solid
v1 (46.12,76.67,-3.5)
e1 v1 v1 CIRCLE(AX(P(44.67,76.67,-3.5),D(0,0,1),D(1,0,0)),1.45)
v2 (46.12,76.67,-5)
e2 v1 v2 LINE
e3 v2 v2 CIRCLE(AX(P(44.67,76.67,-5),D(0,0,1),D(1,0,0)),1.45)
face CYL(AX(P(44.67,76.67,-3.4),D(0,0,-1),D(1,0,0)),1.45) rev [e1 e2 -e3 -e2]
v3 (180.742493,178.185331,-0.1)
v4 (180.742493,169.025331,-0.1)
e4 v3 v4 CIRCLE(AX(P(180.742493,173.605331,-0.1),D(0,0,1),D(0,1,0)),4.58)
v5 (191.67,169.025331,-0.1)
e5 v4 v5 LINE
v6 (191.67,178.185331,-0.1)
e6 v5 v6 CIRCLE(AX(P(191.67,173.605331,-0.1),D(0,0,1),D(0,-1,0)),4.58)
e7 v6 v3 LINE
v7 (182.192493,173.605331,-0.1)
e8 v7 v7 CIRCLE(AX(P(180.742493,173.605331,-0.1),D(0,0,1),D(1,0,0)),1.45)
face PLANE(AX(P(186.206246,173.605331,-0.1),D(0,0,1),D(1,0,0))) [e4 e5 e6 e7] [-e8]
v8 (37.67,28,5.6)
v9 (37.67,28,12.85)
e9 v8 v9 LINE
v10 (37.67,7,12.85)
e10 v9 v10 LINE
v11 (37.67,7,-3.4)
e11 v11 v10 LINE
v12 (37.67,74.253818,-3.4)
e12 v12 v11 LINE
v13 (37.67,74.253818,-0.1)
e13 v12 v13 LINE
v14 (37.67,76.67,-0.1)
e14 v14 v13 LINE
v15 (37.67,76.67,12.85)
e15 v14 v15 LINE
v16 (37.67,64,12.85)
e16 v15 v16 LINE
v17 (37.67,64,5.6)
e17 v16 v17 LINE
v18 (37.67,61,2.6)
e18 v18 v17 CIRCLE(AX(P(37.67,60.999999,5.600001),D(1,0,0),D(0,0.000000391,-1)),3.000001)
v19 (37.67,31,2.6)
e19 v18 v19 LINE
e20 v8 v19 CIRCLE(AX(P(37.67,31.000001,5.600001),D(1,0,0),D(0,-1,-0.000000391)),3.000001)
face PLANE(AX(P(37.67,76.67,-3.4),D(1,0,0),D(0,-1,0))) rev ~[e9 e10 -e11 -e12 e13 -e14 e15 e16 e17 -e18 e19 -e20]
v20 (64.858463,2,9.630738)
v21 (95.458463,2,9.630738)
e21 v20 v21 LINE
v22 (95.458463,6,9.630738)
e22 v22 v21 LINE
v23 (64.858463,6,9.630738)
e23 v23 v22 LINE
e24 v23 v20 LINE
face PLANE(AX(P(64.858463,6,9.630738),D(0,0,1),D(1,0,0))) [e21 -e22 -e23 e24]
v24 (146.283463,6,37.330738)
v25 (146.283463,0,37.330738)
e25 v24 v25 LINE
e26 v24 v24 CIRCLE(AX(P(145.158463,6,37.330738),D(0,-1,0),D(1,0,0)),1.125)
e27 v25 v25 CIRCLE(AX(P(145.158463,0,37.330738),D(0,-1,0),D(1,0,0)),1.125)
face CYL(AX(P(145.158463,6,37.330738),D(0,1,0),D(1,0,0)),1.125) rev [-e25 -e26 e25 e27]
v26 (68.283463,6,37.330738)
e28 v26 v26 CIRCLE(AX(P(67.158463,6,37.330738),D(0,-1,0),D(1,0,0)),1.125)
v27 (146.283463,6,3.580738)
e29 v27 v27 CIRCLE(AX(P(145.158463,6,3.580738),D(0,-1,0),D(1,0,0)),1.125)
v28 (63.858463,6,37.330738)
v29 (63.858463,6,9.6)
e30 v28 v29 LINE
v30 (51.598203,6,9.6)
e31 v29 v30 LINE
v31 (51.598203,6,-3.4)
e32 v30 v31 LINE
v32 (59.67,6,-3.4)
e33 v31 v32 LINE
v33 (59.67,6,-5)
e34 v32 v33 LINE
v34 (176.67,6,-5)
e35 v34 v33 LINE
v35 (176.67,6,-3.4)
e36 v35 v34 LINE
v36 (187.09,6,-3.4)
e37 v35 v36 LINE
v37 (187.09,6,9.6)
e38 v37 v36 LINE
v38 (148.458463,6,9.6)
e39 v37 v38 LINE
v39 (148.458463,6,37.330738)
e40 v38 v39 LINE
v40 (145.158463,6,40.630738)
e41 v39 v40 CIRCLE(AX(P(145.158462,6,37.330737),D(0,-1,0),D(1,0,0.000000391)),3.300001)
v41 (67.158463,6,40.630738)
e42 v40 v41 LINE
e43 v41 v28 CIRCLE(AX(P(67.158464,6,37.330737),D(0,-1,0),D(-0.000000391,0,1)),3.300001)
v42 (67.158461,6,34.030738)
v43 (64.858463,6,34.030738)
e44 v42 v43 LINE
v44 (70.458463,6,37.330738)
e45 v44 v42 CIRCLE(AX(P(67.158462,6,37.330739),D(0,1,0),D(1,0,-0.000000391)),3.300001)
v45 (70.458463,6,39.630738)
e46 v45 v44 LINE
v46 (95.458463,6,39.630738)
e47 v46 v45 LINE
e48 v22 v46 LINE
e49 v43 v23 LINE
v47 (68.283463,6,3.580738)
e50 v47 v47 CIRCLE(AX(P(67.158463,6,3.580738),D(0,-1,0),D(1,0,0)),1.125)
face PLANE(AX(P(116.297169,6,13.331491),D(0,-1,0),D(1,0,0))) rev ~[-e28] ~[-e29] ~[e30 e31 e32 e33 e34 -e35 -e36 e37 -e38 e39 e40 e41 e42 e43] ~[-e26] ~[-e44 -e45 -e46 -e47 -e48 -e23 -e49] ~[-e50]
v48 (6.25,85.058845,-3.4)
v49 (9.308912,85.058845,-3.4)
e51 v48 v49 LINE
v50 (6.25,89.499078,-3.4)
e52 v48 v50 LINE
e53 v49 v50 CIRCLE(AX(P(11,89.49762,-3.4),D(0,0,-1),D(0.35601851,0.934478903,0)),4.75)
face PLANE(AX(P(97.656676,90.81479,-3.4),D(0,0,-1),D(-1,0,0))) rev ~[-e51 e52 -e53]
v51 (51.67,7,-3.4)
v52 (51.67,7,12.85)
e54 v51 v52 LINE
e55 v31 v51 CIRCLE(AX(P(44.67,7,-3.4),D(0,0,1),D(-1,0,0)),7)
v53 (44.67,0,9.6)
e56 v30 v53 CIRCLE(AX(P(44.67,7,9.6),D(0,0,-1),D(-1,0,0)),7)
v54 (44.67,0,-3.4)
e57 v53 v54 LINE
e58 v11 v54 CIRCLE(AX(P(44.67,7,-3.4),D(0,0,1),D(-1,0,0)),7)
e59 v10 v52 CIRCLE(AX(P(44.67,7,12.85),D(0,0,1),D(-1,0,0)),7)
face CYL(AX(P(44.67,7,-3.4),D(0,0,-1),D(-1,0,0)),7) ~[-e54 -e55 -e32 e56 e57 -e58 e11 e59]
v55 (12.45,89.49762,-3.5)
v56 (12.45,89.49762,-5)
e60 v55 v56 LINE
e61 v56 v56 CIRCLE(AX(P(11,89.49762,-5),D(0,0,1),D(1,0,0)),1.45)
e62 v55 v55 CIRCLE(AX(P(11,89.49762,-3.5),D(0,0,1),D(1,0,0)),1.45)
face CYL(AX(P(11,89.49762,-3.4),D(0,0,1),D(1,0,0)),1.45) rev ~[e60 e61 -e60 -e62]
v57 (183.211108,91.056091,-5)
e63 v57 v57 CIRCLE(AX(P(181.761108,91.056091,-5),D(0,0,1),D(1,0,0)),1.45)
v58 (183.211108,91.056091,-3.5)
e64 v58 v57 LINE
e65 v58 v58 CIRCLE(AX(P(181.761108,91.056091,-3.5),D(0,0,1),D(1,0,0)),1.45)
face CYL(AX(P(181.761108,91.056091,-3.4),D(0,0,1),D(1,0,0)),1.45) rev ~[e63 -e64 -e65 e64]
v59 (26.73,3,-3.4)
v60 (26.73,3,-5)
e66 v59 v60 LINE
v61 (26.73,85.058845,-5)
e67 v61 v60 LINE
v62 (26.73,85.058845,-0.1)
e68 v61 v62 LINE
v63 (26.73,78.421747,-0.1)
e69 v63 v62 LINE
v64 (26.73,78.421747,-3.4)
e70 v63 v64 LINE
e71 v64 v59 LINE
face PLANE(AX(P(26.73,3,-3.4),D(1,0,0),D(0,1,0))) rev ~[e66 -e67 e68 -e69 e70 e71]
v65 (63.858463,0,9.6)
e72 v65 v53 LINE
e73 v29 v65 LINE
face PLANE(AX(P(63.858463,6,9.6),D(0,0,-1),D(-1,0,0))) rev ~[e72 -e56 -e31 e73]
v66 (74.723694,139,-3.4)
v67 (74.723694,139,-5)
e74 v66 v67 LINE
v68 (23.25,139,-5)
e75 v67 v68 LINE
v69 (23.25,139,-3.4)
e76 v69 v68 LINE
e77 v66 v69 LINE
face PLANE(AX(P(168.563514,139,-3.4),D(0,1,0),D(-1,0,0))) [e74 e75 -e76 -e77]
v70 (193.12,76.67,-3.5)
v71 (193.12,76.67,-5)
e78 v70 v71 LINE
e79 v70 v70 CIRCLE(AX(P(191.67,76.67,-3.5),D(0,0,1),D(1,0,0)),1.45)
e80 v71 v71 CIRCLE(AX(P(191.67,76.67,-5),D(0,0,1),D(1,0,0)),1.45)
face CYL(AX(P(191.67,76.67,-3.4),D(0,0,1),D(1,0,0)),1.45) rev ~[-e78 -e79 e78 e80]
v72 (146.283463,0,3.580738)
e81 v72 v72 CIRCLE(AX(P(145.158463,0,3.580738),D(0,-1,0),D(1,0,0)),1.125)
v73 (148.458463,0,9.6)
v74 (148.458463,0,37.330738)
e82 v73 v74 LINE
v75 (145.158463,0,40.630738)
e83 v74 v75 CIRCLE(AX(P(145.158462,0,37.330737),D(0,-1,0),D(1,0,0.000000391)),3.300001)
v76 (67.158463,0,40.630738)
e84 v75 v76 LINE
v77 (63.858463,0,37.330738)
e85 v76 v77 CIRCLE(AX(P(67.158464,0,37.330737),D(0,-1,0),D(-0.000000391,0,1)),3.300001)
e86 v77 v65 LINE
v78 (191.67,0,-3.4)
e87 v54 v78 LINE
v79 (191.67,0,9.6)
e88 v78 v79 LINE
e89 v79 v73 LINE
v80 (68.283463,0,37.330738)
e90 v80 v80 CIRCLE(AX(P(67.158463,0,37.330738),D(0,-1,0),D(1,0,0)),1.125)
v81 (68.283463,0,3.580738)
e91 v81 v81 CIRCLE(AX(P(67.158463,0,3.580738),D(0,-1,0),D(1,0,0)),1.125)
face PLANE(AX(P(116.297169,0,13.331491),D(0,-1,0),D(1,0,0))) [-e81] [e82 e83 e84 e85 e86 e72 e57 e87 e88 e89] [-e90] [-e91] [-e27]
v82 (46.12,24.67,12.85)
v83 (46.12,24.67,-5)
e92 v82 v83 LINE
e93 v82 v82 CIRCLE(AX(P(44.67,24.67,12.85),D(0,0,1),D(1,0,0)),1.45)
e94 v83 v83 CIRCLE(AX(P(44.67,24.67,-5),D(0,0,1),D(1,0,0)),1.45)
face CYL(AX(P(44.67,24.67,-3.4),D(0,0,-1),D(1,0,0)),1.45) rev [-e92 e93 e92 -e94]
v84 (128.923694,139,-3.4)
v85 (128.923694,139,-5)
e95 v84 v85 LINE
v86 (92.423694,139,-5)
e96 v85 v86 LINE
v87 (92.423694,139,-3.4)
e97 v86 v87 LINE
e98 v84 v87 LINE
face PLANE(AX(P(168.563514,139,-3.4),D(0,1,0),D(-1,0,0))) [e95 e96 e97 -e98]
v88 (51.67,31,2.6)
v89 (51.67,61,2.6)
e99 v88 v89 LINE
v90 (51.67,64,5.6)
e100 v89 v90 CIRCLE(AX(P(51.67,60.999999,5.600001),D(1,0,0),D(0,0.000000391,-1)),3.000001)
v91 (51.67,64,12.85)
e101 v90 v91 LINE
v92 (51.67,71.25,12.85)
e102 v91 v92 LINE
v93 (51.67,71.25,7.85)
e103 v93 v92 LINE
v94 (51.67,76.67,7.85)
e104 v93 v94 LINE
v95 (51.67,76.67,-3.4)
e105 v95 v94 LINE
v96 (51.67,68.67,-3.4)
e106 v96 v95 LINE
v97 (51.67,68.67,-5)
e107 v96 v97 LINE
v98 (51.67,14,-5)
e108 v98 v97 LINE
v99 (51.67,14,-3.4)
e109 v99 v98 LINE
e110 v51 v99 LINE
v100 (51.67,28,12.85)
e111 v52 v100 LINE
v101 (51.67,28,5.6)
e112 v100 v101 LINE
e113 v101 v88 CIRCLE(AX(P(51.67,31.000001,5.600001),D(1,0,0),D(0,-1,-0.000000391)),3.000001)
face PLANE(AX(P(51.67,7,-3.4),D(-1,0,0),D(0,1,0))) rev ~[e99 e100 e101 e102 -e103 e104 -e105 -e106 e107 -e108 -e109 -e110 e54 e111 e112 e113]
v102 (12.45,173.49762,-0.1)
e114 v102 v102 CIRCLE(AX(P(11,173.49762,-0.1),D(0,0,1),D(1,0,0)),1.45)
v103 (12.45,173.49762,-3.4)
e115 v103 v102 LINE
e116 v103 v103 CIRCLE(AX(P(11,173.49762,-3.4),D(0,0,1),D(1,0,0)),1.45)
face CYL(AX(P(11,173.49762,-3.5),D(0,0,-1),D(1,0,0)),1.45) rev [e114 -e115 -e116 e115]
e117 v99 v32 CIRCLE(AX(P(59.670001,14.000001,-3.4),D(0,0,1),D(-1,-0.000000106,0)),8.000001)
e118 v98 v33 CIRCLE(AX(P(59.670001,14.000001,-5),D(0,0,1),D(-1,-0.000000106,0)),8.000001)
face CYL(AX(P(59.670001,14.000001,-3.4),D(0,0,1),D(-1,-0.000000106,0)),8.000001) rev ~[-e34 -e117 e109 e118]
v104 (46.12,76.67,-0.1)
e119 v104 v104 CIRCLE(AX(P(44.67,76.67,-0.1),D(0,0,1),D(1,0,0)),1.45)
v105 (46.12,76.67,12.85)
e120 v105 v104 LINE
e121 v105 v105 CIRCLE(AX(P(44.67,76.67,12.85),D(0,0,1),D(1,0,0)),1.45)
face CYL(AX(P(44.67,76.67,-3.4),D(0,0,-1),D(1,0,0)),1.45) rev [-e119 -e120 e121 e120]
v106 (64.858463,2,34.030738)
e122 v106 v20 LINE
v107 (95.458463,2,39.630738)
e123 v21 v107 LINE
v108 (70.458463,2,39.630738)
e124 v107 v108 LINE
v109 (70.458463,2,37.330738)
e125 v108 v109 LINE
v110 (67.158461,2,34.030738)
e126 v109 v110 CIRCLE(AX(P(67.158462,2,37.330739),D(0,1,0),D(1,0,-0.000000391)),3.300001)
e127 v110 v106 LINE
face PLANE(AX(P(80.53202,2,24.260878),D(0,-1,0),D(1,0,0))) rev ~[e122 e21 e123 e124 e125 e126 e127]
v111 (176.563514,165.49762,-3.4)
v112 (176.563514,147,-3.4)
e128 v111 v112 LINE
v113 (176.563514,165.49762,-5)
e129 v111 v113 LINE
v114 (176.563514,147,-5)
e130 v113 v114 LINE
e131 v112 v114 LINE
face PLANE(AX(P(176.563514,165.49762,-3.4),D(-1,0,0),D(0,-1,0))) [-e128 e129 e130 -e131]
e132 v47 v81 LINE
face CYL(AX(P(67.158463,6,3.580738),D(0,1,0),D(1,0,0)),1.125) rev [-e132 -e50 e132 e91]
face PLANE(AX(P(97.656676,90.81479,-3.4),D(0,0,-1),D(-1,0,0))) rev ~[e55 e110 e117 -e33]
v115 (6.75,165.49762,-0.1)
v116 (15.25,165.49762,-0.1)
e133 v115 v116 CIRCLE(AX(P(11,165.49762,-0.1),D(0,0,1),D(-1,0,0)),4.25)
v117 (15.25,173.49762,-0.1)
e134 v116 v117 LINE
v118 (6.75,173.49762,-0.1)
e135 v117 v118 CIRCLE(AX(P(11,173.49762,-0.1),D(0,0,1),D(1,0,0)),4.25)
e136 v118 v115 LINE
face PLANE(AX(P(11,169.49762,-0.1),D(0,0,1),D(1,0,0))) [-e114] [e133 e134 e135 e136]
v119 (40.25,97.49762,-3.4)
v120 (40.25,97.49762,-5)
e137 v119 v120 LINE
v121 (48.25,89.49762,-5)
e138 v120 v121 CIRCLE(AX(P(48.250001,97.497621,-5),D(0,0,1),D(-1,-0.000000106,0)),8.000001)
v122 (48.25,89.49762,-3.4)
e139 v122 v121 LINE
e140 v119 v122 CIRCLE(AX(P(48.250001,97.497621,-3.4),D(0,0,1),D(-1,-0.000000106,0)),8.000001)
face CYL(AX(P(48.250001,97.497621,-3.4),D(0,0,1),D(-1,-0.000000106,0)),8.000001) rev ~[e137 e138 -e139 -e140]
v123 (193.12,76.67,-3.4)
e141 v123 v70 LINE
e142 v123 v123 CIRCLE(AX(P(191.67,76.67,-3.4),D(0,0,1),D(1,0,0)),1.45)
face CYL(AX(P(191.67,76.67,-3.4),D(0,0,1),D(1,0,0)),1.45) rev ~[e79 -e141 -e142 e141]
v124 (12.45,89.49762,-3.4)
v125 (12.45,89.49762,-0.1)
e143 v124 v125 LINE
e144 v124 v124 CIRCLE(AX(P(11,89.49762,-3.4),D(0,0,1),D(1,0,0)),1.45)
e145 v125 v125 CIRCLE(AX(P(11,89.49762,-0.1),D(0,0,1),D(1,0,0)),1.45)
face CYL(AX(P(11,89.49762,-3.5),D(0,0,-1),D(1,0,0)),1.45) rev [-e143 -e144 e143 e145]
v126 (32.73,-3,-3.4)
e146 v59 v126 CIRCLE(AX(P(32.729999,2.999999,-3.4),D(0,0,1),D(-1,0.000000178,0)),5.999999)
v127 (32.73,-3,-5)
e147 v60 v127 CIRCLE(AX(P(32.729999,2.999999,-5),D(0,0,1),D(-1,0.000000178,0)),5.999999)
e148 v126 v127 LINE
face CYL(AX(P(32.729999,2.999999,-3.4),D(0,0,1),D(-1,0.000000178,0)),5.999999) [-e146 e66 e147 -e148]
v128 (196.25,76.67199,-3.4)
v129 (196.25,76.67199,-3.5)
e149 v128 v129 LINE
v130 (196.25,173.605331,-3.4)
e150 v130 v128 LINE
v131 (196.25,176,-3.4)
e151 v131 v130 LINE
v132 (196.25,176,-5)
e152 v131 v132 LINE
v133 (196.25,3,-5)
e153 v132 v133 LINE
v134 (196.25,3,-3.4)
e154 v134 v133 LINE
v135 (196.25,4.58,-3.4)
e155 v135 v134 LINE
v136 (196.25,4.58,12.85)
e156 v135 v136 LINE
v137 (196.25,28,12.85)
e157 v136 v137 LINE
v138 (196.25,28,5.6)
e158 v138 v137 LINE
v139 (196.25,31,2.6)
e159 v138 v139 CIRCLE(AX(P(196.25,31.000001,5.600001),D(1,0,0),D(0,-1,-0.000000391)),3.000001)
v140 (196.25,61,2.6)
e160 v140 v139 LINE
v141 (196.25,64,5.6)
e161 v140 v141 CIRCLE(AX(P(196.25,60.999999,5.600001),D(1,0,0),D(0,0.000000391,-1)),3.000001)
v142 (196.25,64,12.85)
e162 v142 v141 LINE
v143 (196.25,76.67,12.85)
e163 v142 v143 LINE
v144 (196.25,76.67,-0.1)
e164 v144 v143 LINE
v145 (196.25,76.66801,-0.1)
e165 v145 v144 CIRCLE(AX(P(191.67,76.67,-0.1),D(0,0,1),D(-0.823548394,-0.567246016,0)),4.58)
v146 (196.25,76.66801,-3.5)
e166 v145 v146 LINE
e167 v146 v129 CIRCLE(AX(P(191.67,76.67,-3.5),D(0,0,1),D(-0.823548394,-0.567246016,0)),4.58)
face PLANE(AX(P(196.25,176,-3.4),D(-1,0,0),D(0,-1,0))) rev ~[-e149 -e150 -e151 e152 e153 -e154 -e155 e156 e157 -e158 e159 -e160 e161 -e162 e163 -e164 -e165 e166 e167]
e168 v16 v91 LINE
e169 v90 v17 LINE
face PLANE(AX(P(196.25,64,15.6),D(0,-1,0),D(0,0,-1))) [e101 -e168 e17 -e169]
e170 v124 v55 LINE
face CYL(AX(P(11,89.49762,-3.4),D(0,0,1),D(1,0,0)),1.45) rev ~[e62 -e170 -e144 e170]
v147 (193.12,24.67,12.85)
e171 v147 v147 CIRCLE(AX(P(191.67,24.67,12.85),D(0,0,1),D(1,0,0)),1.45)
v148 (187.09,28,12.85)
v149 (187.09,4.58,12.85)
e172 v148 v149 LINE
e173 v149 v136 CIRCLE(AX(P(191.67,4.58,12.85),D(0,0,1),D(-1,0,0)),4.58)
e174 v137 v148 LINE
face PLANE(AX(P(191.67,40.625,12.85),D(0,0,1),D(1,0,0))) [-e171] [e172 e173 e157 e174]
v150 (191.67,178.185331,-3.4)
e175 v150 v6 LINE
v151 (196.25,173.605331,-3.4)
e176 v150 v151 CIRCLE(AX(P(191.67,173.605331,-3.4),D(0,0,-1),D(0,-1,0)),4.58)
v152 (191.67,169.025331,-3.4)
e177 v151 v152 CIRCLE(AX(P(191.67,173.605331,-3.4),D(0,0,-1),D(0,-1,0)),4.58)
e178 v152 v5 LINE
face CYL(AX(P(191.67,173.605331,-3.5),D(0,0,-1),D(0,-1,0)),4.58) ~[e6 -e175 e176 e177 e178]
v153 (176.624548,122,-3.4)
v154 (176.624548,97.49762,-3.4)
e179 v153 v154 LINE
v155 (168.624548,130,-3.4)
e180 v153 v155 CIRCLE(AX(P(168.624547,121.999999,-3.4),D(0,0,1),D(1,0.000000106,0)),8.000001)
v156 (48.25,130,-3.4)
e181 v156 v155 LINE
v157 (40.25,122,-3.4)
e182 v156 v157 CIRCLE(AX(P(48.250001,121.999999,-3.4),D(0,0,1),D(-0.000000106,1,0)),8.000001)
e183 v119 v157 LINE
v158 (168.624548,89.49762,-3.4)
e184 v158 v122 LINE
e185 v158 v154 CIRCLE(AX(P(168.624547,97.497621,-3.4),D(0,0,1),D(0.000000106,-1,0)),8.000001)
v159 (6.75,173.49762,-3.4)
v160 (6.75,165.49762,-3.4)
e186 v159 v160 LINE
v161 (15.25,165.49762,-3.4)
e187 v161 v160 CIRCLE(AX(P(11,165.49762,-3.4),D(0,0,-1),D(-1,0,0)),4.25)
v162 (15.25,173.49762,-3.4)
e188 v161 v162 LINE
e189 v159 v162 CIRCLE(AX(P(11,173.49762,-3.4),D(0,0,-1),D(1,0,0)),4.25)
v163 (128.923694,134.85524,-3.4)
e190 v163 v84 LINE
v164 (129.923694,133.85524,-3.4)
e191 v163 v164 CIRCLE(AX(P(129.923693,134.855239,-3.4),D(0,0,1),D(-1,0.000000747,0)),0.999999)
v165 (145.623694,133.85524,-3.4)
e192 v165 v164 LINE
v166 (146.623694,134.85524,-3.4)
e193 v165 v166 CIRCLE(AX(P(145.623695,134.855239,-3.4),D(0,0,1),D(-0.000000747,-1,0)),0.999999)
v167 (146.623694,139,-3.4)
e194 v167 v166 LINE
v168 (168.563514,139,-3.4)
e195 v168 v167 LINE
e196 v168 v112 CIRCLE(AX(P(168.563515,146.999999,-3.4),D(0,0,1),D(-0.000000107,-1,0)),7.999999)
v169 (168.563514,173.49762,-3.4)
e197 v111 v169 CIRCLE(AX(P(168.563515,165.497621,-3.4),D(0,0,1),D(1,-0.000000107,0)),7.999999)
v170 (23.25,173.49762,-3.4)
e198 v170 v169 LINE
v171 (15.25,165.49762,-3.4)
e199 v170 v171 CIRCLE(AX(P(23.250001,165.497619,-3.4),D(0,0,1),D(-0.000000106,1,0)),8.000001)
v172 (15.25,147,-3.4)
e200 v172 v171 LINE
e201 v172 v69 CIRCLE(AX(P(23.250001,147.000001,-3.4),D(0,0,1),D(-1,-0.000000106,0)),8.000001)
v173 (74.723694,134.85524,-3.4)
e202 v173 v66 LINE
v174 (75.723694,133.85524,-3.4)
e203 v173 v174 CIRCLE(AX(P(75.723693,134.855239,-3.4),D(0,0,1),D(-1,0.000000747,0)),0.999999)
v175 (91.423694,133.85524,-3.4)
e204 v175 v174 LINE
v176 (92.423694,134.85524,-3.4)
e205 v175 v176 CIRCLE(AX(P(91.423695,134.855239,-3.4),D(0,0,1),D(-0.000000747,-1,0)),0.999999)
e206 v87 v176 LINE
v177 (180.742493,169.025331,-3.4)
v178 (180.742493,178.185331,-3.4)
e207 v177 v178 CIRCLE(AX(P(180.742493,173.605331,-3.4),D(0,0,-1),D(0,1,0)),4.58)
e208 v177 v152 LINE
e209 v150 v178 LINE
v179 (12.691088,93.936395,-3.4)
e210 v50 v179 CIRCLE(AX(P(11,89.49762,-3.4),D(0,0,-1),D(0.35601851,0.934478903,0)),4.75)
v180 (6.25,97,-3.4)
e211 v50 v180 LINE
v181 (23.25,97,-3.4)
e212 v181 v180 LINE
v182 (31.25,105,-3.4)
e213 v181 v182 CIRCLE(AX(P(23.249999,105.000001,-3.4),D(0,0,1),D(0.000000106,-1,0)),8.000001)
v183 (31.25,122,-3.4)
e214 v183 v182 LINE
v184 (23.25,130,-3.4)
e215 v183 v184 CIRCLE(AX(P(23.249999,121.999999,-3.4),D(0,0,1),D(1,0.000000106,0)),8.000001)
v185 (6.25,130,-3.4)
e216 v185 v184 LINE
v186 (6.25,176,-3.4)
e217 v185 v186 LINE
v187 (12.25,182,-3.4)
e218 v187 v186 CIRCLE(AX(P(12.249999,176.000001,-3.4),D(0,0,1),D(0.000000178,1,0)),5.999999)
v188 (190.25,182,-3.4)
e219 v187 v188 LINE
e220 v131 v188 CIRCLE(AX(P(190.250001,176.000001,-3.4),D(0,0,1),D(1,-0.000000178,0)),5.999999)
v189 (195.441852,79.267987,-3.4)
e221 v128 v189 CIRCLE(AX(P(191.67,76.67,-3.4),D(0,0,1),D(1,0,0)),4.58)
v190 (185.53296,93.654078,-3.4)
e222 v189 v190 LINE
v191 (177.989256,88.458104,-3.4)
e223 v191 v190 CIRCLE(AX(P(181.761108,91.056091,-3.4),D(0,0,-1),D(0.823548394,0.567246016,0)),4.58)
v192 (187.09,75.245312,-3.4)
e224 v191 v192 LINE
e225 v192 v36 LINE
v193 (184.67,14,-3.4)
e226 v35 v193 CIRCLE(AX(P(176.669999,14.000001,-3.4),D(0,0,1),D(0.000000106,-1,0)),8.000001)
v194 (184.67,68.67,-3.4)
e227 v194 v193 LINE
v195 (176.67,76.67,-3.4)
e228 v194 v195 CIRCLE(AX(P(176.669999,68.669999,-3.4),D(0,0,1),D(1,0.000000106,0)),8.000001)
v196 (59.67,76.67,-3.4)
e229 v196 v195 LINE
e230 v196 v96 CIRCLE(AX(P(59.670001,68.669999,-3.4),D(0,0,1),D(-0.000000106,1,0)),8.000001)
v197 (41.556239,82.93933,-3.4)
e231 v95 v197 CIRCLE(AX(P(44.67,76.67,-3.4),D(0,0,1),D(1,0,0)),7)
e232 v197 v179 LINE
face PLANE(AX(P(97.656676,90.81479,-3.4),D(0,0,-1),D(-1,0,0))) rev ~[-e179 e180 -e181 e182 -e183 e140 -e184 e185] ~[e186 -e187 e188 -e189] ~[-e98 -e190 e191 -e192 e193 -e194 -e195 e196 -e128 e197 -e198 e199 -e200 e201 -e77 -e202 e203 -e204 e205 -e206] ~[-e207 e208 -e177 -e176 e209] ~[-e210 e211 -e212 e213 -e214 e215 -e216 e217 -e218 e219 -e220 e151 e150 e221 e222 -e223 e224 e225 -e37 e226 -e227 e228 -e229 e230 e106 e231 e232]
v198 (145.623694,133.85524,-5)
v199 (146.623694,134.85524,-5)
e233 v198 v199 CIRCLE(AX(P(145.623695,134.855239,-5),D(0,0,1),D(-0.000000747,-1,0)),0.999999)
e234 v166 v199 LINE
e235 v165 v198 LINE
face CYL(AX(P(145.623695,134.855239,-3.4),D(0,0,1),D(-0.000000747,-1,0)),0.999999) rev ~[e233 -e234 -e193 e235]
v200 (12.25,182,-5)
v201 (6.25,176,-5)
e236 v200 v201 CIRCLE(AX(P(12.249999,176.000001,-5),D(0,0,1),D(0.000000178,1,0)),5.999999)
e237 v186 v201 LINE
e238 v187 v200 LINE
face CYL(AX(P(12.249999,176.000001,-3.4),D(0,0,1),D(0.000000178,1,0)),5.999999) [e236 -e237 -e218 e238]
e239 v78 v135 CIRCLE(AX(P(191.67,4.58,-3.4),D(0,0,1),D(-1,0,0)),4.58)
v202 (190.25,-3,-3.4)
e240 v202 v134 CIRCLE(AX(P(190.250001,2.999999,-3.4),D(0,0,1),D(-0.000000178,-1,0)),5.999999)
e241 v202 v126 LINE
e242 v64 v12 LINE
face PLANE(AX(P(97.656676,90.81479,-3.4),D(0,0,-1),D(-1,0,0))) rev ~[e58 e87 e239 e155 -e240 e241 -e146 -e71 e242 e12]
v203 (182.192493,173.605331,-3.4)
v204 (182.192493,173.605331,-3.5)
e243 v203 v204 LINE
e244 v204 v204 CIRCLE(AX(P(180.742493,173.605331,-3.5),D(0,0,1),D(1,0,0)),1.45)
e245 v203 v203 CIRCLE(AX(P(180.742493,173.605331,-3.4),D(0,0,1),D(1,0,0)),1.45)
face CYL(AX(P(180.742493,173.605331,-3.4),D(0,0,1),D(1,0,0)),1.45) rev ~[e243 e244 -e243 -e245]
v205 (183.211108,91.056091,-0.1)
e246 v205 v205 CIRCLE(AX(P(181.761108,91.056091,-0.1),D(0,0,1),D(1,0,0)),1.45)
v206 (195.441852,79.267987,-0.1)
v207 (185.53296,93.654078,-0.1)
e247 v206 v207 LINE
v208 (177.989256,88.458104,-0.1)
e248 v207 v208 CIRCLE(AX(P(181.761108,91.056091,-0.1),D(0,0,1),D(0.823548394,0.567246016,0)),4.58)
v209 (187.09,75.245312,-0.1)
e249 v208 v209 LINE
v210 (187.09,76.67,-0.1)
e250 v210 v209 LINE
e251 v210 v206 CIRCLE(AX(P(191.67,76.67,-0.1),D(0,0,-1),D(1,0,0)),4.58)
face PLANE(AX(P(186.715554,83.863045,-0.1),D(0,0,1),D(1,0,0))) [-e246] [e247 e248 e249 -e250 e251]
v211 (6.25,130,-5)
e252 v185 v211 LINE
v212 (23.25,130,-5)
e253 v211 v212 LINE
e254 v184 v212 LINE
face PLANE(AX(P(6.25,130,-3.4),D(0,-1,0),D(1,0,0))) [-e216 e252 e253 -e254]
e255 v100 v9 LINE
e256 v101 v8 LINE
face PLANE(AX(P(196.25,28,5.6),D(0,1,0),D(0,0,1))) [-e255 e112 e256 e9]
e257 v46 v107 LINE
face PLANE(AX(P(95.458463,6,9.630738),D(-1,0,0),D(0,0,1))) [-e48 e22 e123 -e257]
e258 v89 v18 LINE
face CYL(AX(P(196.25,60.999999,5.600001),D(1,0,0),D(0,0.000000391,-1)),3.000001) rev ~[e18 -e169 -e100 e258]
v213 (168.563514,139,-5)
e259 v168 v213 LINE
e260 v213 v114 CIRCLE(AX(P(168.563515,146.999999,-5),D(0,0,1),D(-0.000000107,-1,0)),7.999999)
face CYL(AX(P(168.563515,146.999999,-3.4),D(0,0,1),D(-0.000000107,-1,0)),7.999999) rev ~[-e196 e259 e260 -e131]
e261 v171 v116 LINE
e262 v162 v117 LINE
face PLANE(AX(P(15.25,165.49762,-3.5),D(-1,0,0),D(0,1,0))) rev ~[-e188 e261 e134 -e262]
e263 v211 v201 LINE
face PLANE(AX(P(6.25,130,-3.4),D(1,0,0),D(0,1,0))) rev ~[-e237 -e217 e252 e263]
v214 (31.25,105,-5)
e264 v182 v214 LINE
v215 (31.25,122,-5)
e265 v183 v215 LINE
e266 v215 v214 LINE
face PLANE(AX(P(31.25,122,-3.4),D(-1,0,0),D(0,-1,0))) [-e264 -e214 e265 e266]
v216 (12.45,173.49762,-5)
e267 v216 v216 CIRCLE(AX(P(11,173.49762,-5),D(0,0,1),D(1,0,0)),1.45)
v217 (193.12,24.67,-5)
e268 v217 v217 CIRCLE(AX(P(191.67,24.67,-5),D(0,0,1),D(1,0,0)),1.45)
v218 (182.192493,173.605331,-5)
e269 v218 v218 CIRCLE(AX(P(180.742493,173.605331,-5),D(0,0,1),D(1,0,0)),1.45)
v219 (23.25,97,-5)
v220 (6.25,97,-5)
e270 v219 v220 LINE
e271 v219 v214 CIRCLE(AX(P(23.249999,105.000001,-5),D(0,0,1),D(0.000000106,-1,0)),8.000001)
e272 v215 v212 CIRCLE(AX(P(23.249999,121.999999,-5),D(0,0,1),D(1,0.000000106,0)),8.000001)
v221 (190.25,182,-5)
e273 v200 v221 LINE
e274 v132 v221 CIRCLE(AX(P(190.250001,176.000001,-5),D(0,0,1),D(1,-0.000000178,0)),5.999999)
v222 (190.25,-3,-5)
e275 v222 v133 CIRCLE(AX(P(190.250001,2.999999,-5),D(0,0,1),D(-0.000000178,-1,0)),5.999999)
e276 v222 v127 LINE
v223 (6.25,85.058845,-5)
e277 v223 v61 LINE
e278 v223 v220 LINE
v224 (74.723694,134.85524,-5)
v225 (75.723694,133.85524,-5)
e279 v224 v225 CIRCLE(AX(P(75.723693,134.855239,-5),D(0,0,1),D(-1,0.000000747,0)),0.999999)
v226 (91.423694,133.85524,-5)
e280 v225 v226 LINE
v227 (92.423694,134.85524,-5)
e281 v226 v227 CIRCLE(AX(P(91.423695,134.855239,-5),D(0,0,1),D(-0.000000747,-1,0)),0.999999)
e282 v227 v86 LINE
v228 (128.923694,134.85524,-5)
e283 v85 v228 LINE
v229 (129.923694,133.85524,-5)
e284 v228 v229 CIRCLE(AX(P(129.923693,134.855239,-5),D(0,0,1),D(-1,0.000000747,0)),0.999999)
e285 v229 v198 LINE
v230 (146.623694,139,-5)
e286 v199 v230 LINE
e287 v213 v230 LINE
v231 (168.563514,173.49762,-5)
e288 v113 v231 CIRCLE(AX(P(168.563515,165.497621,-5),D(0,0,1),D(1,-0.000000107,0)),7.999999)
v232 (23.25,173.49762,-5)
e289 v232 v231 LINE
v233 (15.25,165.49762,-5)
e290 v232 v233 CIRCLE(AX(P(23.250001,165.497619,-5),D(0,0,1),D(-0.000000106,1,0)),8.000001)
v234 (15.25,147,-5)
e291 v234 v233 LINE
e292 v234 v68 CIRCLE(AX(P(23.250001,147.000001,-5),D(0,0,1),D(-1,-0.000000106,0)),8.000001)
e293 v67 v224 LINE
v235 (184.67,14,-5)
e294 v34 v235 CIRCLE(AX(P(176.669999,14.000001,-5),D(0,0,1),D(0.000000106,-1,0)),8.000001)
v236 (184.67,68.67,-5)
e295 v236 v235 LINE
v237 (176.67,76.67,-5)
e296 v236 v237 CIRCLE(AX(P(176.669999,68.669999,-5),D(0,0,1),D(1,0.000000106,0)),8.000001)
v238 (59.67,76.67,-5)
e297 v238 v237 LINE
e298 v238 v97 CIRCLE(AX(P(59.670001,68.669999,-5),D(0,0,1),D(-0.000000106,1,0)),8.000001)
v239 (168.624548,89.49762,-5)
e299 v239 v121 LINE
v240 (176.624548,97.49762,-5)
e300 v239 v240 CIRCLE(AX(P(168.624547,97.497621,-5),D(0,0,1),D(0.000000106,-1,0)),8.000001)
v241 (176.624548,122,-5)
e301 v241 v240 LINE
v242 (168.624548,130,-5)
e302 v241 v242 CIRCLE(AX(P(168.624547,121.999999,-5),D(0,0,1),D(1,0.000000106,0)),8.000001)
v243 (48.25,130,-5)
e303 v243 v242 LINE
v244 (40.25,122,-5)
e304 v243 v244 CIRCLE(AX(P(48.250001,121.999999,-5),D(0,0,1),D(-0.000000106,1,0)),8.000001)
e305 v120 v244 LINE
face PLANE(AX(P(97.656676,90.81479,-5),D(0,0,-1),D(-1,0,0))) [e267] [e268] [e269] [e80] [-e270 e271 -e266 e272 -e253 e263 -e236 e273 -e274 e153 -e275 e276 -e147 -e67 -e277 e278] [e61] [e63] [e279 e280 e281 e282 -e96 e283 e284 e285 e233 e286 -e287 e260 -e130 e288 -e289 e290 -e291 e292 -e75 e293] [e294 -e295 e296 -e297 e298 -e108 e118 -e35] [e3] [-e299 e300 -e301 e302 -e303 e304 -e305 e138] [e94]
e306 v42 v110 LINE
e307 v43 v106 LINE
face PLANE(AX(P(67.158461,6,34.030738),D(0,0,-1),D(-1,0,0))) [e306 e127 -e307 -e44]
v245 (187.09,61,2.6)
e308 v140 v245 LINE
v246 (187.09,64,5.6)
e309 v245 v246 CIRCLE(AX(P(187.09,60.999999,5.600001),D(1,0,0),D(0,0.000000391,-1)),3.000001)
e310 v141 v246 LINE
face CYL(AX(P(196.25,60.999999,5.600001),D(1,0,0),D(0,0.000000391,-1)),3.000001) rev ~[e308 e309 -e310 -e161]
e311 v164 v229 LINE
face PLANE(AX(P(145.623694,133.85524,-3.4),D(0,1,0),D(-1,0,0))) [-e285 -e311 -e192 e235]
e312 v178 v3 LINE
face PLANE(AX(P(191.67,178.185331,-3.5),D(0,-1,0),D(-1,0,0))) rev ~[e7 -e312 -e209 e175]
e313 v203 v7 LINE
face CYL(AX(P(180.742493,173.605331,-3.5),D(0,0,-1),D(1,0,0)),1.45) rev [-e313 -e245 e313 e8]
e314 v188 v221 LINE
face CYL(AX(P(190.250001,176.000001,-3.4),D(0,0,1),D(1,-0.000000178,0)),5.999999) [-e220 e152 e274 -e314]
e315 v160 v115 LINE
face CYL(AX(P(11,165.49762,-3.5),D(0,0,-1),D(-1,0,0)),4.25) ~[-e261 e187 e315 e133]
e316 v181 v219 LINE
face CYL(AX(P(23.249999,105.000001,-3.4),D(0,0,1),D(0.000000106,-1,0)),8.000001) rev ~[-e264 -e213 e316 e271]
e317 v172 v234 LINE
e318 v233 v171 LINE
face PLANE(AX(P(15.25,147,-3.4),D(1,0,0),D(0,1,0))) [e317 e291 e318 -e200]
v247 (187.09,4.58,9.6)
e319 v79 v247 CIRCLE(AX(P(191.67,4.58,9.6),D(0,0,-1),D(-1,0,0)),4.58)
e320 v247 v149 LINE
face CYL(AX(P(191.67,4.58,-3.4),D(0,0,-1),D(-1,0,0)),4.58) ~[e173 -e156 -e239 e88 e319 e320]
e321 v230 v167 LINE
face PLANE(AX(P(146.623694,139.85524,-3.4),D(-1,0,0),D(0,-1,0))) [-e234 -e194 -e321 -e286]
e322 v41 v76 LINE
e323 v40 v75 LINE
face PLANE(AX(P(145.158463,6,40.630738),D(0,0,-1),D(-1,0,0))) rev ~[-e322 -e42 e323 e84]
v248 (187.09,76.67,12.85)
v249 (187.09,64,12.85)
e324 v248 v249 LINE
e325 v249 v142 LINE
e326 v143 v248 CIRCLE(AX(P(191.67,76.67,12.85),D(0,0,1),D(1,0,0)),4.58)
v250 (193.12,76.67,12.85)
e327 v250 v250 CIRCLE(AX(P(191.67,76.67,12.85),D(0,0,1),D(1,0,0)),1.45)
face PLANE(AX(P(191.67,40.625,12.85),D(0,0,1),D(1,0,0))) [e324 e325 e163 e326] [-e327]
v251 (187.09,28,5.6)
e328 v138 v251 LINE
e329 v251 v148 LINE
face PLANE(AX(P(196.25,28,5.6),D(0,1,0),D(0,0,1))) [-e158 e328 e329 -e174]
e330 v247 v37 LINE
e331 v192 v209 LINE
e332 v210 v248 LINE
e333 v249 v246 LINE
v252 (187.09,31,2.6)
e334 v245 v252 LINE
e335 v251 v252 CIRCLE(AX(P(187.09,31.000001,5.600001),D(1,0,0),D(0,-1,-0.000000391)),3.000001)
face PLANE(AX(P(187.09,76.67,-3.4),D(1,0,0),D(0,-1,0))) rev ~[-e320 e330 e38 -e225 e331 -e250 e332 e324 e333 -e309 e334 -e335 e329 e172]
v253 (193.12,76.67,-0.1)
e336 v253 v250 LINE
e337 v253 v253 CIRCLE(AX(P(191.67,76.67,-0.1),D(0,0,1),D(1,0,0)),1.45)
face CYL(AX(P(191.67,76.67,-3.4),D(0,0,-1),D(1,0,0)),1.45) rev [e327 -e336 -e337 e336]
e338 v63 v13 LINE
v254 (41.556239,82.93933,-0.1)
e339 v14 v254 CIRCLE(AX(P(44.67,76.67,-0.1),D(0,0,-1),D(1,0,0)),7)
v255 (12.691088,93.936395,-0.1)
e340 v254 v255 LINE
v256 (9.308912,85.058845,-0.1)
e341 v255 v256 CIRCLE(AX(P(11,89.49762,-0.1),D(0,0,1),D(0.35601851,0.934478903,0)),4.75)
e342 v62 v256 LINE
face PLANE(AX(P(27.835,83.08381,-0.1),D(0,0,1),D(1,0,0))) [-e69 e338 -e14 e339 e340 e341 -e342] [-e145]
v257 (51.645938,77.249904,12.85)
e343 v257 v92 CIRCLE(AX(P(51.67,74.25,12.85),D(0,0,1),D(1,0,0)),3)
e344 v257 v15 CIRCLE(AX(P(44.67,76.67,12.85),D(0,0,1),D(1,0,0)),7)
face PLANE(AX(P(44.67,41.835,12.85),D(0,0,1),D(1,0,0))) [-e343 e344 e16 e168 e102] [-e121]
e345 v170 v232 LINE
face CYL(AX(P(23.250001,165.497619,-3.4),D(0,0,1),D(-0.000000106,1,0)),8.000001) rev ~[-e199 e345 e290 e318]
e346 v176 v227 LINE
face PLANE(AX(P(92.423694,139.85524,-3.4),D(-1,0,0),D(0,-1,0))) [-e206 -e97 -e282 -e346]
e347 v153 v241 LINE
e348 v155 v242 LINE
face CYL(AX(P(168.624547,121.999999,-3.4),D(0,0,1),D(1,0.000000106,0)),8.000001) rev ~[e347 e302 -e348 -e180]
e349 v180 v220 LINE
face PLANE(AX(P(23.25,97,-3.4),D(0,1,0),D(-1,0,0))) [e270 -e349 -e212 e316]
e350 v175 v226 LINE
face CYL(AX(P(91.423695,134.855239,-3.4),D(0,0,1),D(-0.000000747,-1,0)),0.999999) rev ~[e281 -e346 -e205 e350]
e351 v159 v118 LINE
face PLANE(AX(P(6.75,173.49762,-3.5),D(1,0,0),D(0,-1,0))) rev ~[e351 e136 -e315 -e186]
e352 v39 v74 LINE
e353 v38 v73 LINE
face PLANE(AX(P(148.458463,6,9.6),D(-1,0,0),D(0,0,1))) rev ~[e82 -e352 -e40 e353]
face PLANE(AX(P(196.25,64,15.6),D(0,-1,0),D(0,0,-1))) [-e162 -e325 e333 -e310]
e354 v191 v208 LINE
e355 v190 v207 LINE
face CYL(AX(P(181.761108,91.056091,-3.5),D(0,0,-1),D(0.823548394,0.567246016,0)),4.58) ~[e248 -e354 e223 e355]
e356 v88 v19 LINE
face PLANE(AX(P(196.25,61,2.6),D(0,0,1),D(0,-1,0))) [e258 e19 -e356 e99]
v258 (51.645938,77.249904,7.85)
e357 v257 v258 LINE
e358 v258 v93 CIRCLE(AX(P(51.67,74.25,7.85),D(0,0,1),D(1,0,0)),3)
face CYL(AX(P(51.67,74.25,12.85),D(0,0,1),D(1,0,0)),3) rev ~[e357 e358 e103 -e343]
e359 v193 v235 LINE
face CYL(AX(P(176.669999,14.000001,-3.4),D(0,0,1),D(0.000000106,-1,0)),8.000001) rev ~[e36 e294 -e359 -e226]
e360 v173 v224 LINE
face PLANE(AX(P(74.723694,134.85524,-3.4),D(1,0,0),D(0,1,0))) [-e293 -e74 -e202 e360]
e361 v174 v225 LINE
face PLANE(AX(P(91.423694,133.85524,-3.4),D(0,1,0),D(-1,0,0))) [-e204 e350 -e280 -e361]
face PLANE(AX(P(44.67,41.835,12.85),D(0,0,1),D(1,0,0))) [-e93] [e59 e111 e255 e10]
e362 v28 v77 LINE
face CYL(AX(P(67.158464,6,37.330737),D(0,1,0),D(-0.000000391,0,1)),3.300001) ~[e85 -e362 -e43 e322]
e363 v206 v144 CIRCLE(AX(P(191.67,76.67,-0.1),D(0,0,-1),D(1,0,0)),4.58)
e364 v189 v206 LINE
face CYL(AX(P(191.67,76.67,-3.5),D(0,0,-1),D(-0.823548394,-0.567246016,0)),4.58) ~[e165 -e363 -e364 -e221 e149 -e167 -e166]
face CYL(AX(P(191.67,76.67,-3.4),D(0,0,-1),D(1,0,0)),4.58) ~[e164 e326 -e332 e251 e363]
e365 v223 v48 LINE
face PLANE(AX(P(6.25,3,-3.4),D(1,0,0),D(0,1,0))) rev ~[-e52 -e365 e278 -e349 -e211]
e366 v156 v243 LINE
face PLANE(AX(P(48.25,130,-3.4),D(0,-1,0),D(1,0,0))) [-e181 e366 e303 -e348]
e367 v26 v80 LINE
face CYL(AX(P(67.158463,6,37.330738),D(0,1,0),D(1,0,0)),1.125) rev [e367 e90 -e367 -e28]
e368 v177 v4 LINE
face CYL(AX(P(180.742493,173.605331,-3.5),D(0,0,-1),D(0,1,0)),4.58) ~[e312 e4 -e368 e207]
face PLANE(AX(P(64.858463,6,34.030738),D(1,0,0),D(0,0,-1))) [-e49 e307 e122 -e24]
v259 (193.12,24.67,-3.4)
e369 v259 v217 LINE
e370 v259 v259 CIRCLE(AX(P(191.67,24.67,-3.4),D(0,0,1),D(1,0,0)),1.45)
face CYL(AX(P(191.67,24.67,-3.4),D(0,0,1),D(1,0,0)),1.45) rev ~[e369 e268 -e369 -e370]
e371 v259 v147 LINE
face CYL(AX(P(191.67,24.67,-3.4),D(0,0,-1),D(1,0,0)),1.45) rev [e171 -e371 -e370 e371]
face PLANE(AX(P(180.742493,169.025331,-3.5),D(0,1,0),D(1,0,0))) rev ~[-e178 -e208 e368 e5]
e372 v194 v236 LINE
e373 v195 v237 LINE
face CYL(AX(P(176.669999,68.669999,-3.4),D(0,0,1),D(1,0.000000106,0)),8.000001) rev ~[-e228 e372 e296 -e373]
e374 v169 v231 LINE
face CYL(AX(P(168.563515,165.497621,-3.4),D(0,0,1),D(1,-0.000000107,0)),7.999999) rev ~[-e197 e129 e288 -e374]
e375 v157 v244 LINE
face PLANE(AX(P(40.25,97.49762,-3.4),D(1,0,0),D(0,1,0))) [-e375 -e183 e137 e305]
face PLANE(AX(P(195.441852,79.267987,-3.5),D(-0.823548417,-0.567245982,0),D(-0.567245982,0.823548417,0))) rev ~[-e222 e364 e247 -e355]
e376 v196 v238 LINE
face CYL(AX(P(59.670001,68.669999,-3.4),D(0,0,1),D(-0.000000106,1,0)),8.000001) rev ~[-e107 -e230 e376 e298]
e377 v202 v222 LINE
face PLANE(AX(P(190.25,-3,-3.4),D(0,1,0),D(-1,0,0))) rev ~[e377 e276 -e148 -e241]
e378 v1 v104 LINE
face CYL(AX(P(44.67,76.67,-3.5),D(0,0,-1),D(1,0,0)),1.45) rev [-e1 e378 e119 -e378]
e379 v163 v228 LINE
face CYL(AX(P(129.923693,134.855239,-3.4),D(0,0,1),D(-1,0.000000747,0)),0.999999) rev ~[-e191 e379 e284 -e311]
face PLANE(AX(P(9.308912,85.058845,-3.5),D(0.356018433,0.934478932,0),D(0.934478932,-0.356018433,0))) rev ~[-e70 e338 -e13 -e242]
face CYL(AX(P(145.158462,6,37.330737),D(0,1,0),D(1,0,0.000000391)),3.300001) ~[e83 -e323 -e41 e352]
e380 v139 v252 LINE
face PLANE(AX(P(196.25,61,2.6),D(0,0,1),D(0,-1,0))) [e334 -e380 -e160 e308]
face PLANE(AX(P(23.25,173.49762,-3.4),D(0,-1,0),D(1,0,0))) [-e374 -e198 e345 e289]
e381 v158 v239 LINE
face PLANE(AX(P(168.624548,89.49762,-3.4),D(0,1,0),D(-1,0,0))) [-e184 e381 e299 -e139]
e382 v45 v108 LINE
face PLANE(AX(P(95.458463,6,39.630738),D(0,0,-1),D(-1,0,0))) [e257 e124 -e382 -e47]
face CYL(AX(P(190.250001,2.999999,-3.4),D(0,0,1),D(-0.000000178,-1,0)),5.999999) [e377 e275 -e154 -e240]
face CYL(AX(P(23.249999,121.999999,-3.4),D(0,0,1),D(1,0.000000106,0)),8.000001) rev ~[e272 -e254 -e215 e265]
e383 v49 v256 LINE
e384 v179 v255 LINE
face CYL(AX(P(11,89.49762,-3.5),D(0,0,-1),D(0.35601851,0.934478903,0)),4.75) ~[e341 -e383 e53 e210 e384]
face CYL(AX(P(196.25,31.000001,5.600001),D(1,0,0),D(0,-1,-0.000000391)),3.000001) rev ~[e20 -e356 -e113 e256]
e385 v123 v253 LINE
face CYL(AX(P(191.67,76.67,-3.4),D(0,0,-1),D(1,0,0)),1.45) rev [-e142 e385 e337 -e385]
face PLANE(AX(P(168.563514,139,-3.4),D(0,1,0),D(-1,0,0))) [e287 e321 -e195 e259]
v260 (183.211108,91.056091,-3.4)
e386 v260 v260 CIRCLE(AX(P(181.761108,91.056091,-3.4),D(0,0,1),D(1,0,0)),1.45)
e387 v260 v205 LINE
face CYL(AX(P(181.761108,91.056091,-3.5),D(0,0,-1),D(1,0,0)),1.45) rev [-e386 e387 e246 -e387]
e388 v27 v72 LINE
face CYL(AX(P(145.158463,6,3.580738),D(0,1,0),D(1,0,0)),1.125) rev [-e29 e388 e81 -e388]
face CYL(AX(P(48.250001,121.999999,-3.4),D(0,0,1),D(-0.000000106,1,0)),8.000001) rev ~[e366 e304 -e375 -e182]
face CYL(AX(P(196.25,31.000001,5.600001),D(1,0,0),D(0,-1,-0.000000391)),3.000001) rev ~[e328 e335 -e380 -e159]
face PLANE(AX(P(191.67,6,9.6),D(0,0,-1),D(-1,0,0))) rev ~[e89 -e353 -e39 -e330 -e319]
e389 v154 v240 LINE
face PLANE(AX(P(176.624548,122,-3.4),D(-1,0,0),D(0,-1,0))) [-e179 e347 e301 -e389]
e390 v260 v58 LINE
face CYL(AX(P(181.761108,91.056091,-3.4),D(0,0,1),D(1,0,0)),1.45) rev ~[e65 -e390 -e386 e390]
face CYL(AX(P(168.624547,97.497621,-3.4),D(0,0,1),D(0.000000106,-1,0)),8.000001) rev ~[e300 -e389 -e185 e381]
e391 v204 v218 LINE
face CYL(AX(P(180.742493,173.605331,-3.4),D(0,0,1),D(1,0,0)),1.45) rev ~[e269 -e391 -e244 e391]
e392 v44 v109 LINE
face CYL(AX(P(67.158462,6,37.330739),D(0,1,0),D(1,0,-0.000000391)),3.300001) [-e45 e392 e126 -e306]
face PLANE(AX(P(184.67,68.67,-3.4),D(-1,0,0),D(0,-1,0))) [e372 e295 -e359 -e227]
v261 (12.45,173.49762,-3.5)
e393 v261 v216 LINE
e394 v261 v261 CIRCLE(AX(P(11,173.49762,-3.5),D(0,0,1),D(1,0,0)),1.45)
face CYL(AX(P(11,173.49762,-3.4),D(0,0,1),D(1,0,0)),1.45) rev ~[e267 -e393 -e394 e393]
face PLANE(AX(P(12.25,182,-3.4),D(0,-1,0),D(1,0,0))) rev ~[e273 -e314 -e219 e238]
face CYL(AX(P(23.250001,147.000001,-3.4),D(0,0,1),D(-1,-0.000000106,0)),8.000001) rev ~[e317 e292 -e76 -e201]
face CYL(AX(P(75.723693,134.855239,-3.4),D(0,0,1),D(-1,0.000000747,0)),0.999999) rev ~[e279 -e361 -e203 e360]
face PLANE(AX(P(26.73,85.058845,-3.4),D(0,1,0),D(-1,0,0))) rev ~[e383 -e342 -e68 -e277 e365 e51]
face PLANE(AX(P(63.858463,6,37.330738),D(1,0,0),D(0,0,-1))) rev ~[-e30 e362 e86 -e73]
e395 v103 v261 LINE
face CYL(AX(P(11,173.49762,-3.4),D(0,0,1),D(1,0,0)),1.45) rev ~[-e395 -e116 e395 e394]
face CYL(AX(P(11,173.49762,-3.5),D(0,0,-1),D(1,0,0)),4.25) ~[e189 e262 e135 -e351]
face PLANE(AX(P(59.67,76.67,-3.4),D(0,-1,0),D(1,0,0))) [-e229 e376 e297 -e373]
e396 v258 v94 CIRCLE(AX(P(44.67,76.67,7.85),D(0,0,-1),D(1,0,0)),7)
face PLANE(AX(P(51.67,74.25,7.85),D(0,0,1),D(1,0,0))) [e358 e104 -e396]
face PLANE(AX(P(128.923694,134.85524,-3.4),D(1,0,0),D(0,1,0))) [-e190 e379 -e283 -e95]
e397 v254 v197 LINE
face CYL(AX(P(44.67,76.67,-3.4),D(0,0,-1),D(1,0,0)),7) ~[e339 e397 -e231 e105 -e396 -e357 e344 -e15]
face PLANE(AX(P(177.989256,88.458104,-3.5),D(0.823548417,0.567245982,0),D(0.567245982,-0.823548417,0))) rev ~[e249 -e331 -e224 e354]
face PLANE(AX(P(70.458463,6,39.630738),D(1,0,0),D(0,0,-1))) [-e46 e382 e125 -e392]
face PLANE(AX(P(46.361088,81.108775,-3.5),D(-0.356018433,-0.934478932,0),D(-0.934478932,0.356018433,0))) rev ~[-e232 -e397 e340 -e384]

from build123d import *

# Parameters (mm, degrees)
SKETCH_R          = 1.45
PAD001_DEPTH      = 1.6
SKETCH001_R       = 1.45
PAD002_DEPTH      = 16.25
POCKET_DEPTH      = 190.001
POCKET_DEPTH_BACK = 0.001
SKETCH003_R       = 1.45
PAD003_DEPTH      = 3.4
POCKET001_DEPTH   = 5
POCKET002_DEPTH   = 10
SKETCH031_R       = 1.125
PAD017_DEPTH      = 6
POCKET013_DEPTH   = 4
SKETCH033_R       = 3
POCKET014_DEPTH   = 5


with BuildPart() as part:
    # Sketch → Pad001 (new body)
    with BuildSketch(Plane.XY):
        with BuildLine():
            Line((12.25, 182), (190.25, 182))
            ThreePointArc((196.25, 176), (194.492641, 180.242641), (190.25, 182))
            Line((196.25, 176), (196.25, 3))
            ThreePointArc((190.25, -3), (194.492641, -1.242641), (196.25, 3))
            Line((190.25, -3), (12.25, -3))
            ThreePointArc((6.25, 3), (8.007359, -1.242641), (12.25, -3))
            Line((6.25, 3), (6.25, 97))
            Line((23.25, 97), (6.25, 97))
            ThreePointArc((23.25, 97), (28.906854, 99.343146), (31.25, 105))
            Line((31.25, 122), (31.25, 105))
            ThreePointArc((31.25, 122), (28.906854, 127.656854), (23.25, 130))
            Line((6.25, 130), (23.25, 130))
            Line((6.25, 130), (6.25, 176))
            ThreePointArc((12.25, 182), (8.007359, 180.242641), (6.25, 176))
        make_face()
        with Locations((11, 173.49762)):
            Circle(SKETCH_R, mode=Mode.SUBTRACT)
        with Locations((11, 89.49762)):
            Circle(SKETCH_R, mode=Mode.SUBTRACT)
        with Locations((180.742493, 173.605331)):
            Circle(SKETCH_R, mode=Mode.SUBTRACT)
        with Locations((181.761108, 91.056091)):
            Circle(SKETCH_R, mode=Mode.SUBTRACT)
        with Locations((44.67, 76.67)):
            Circle(SKETCH_R, mode=Mode.SUBTRACT)
        with Locations((44.67, 24.67)):
            Circle(SKETCH_R, mode=Mode.SUBTRACT)
        with Locations((191.67, 24.67)):
            Circle(SKETCH_R, mode=Mode.SUBTRACT)
        with Locations((191.67, 76.67)):
            Circle(SKETCH_R, mode=Mode.SUBTRACT)
        with BuildLine():
            ThreePointArc((40.25, 97.49762), (42.593146, 91.840766), (48.25, 89.49762))
            Line((168.624548, 89.49762), (48.25, 89.49762))
            ThreePointArc((168.624548, 89.49762), (174.281402, 91.840766), (176.624548, 97.49762))
            Line((176.624548, 122), (176.624548, 97.49762))
            ThreePointArc((176.624548, 122), (174.281402, 127.656854), (168.624548, 130))
            Line((48.25, 130), (168.624548, 130))
            ThreePointArc((48.25, 130), (42.593146, 127.656854), (40.25, 122))
            Line((40.25, 97.49762), (40.25, 122))
        make_face(mode=Mode.SUBTRACT)
        with BuildLine():
            ThreePointArc((15.25, 147), (17.593146, 141.343146), (23.25, 139))
            Line((168.563514, 139), (23.25, 139))
            ThreePointArc((168.563514, 139), (174.220369, 141.343146), (176.563514, 147))
            Line((176.563514, 165.49762), (176.563514, 147))
            ThreePointArc((176.563514, 165.49762), (174.220369, 171.154474), (168.563514, 173.49762))
            Line((23.25, 173.49762), (168.563514, 173.49762))
            ThreePointArc((23.25, 173.49762), (17.593146, 171.154474), (15.25, 165.49762))
            Line((15.25, 147), (15.25, 165.49762))
        make_face(mode=Mode.SUBTRACT)
        with BuildLine():
            ThreePointArc((51.67, 14), (54.013146, 8.343146), (59.67, 6))
            Line((176.67, 6), (59.67, 6))
            ThreePointArc((176.67, 6), (182.326854, 8.343146), (184.67, 14))
            Line((184.67, 68.67), (184.67, 14))
            ThreePointArc((184.67, 68.67), (182.326854, 74.326854), (176.67, 76.67))
            Line((59.67, 76.67), (176.67, 76.67))
            ThreePointArc((59.67, 76.67), (54.013146, 74.326854), (51.67, 68.67))
            Line((51.67, 14), (51.67, 68.67))
        make_face(mode=Mode.SUBTRACT)
    extrude(amount=-PAD001_DEPTH)

    # Sketch001 → Pad002 (join)
    with BuildSketch(Plane.XY):
        with BuildLine():
            ThreePointArc((51.67, 76.67), (44.67, 83.67), (37.67, 76.67))
            Line((37.67, 76.67), (37.67, 7))
            ThreePointArc((37.67, 7), (44.67, 0), (51.67, 7))
            Line((51.67, 7), (51.67, 76.67))
        make_face()
        with Locations((44.67, 76.67)):
            Circle(SKETCH001_R, mode=Mode.SUBTRACT)
        with Locations((44.67, 24.67)):
            Circle(SKETCH001_R, mode=Mode.SUBTRACT)
        with BuildLine():
            ThreePointArc((196.25, 76.67), (191.67, 81.25), (187.09, 76.67))
            Line((187.09, 76.67), (187.09, 4.58))
            ThreePointArc((187.09, 4.58), (191.67, 0), (196.25, 4.58))
            Line((196.25, 4.58), (196.25, 76.67))
        make_face()
        with Locations((191.67, 76.67)):
            Circle(SKETCH001_R, mode=Mode.SUBTRACT)
        with Locations((191.67, 24.67)):
            Circle(SKETCH001_R, mode=Mode.SUBTRACT)
    extrude(amount=PAD002_DEPTH)

    # Sketch002 (on Face56 of Pad002) → Pocket (cut, two sides)
    with BuildSketch(Plane.YZ.offset(196.25)) as pocket_sk:
        with BuildLine():
            ThreePointArc((31, 22), (28.87868, 21.12132), (28, 19))
            Line((28, 9), (28, 19))
            ThreePointArc((28, 9), (28.87868, 6.87868), (31, 6))
            Line((61, 6), (31, 6))
            ThreePointArc((61, 6), (63.12132, 6.87868), (64, 9))
            Line((64, 19), (64, 9))
            ThreePointArc((64, 19), (63.12132, 21.12132), (61, 22))
            Line((31, 22), (61, 22))
        make_face()
    extrude(amount=-POCKET_DEPTH, mode=Mode.SUBTRACT)
    extrude(pocket_sk.sketch, amount=POCKET_DEPTH_BACK, mode=Mode.SUBTRACT)

    # Sketch003 → Pad003 (join)
    with BuildSketch(Plane.XY.offset(-0.1)):
        with BuildLine():
            ThreePointArc((185.53296, 93.654078), (179.163121, 94.827943), (177.989256, 88.458104))
            Line((177.989256, 88.458104), (187.898148, 74.072013))
            ThreePointArc((187.898148, 74.072013), (194.267987, 72.898148), (195.441852, 79.267987))
            Line((195.441852, 79.267987), (185.53296, 93.654078))
        make_face()
        with Locations((191.67, 76.67)):
            Circle(SKETCH003_R, mode=Mode.SUBTRACT)
        with Locations((181.761108, 91.056091)):
            Circle(SKETCH003_R, mode=Mode.SUBTRACT)
        with BuildLine():
            ThreePointArc((12.691088, 93.936395), (6.561225, 91.188708), (9.308912, 85.058845))
            Line((9.308912, 85.058845), (42.978912, 72.231225))
            ThreePointArc((42.978912, 72.231225), (49.108775, 74.978912), (46.361088, 81.108775))
            Line((46.361088, 81.108775), (12.691088, 93.936395))
        make_face()
        with Locations((44.67, 76.67)):
            Circle(SKETCH003_R, mode=Mode.SUBTRACT)
        with Locations((11, 89.49762)):
            Circle(SKETCH003_R, mode=Mode.SUBTRACT)
        with BuildLine():
            ThreePointArc((15.25, 173.49762), (11, 177.74762), (6.75, 173.49762))
            Line((6.75, 173.49762), (6.75, 165.49762))
            ThreePointArc((6.75, 165.49762), (11, 161.24762), (15.25, 165.49762))
            Line((15.25, 165.49762), (15.25, 173.49762))
        make_face()
        with Locations((11, 173.49762)):
            Circle(SKETCH003_R, mode=Mode.SUBTRACT)
        with BuildLine():
            ThreePointArc((180.742493, 178.185331), (176.162493, 173.605331), (180.742493, 169.025331))
            Line((180.742493, 169.025331), (191.67, 169.025331))
            ThreePointArc((191.67, 169.025331), (196.25, 173.605331), (191.67, 178.185331))
            Line((191.67, 178.185331), (180.742493, 178.185331))
        make_face()
        with Locations((180.742493, 173.605331)):
            Circle(SKETCH003_R, mode=Mode.SUBTRACT)
    extrude(amount=PAD003_DEPTH)

    # Sketch004 → Pocket001 (cut)
    with BuildSketch(Plane.XY):
        with BuildLine():
            ThreePointArc((75.723694, 140.85524), (75.016587, 140.562347), (74.723694, 139.85524))
            Line((74.723694, 134.85524), (74.723694, 139.85524))
            ThreePointArc((74.723694, 134.85524), (75.016587, 134.148133), (75.723694, 133.85524))
            Line((91.423694, 133.85524), (75.723694, 133.85524))
            ThreePointArc((91.423694, 133.85524), (92.130801, 134.148133), (92.423694, 134.85524))
            Line((92.423694, 139.85524), (92.423694, 134.85524))
            ThreePointArc((92.423694, 139.85524), (92.130801, 140.562347), (91.423694, 140.85524))
            Line((75.723694, 140.85524), (91.423694, 140.85524))
        make_face()
        with BuildLine():
            ThreePointArc((129.923694, 140.85524), (129.216587, 140.562347), (128.923694, 139.85524))
            Line((128.923694, 134.85524), (128.923694, 139.85524))
            ThreePointArc((128.923694, 134.85524), (129.216587, 134.148133), (129.923694, 133.85524))
            Line((145.623694, 133.85524), (129.923694, 133.85524))
            ThreePointArc((145.623694, 133.85524), (146.330801, 134.148133), (146.623694, 134.85524))
            Line((146.623694, 139.85524), (146.623694, 134.85524))
            ThreePointArc((146.623694, 139.85524), (146.330801, 140.562347), (145.623694, 140.85524))
            Line((129.923694, 140.85524), (145.623694, 140.85524))
        make_face()
    extrude(amount=-POCKET001_DEPTH, mode=Mode.SUBTRACT)

    # Sketch008 → Pocket002 (cut, symmetric)
    with BuildSketch(Plane.XY):
        with BuildLine():
            Line((26.73, 3), (26.73, 85.058845))
            Line((26.73, 85.058845), (-23.27, 85.058845))
            Line((-23.27, 85.058845), (-23.27, -53))
            Line((-23.27, -53), (32.73, -53))
            Line((32.73, -53), (32.73, -3))
            ThreePointArc((26.73, 3), (28.487359, -1.242641), (32.73, -3))
        make_face()
    extrude(amount=POCKET002_DEPTH, both=True, mode=Mode.SUBTRACT)

    # Sketch031 → Pad017 (join)
    with BuildSketch(Plane.XZ.offset(-6)):
        with BuildLine():
            Line((44.67, 0), (191.67, 0))
            Line((191.67, 0), (191.67, 13))
            Line((191.67, 13), (148.458463, 13))
            Line((148.458463, 13), (148.458463, 40.730738))
            ThreePointArc((148.458463, 40.730738), (147.491915, 43.06419), (145.158463, 44.030738))
            Line((145.158463, 44.030738), (67.158463, 44.030738))
            ThreePointArc((67.158463, 44.030738), (64.825011, 43.06419), (63.858463, 40.730738))
            Line((63.858463, 40.730738), (63.858463, 13))
            Line((63.858463, 13), (44.67, 13))
            Line((44.67, 13), (44.67, 0))
        make_face()
        with Locations((67.158463, 40.730738)):
            Circle(SKETCH031_R, mode=Mode.SUBTRACT)
        with Locations((67.158463, 6.980738)):
            Circle(SKETCH031_R, mode=Mode.SUBTRACT)
        with Locations((145.158463, 40.730738)):
            Circle(SKETCH031_R, mode=Mode.SUBTRACT)
        with Locations((145.158463, 6.980738)):
            Circle(SKETCH031_R, mode=Mode.SUBTRACT)
    extrude(amount=PAD017_DEPTH)

    # Sketch032 (on Face13 of Pad017) → Pocket013 (cut)
    with BuildSketch(Plane(origin=(0, 6, 0), x_dir=(-1, 0, 0), z_dir=(0, 1, 0))):
        with BuildLine():
            Line((-64.858463, 37.430738), (-64.858463, 13.030738))
            Line((-64.858463, 13.030738), (-95.458463, 13.030738))
            Line((-95.458463, 13.030738), (-95.458463, 43.030738))
            Line((-95.458463, 43.030738), (-70.458463, 43.030738))
            Line((-70.458463, 43.030738), (-70.458463, 40.730738))
            ThreePointArc((-70.458463, 40.730738), (-69.491914, 38.397285), (-67.158461, 37.430738))
            Line((-67.158461, 37.430738), (-64.858463, 37.430738))
        make_face()
    extrude(amount=-POCKET013_DEPTH, mode=Mode.SUBTRACT)

    # Sketch033 (on Face113 of Pocket013) → Pocket014 (cut)
    with BuildSketch(Plane.XY.offset(16.25)):
        with Locations((51.67, 74.25)):
            Circle(SKETCH033_R)
    extrude(amount=-POCKET014_DEPTH, mode=Mode.SUBTRACT)


with BuildPart() as part_1:
    # Body001 placement: moved
    add(part.part.moved(Location((0, 0, -3.4))))


solid = part_1.part
